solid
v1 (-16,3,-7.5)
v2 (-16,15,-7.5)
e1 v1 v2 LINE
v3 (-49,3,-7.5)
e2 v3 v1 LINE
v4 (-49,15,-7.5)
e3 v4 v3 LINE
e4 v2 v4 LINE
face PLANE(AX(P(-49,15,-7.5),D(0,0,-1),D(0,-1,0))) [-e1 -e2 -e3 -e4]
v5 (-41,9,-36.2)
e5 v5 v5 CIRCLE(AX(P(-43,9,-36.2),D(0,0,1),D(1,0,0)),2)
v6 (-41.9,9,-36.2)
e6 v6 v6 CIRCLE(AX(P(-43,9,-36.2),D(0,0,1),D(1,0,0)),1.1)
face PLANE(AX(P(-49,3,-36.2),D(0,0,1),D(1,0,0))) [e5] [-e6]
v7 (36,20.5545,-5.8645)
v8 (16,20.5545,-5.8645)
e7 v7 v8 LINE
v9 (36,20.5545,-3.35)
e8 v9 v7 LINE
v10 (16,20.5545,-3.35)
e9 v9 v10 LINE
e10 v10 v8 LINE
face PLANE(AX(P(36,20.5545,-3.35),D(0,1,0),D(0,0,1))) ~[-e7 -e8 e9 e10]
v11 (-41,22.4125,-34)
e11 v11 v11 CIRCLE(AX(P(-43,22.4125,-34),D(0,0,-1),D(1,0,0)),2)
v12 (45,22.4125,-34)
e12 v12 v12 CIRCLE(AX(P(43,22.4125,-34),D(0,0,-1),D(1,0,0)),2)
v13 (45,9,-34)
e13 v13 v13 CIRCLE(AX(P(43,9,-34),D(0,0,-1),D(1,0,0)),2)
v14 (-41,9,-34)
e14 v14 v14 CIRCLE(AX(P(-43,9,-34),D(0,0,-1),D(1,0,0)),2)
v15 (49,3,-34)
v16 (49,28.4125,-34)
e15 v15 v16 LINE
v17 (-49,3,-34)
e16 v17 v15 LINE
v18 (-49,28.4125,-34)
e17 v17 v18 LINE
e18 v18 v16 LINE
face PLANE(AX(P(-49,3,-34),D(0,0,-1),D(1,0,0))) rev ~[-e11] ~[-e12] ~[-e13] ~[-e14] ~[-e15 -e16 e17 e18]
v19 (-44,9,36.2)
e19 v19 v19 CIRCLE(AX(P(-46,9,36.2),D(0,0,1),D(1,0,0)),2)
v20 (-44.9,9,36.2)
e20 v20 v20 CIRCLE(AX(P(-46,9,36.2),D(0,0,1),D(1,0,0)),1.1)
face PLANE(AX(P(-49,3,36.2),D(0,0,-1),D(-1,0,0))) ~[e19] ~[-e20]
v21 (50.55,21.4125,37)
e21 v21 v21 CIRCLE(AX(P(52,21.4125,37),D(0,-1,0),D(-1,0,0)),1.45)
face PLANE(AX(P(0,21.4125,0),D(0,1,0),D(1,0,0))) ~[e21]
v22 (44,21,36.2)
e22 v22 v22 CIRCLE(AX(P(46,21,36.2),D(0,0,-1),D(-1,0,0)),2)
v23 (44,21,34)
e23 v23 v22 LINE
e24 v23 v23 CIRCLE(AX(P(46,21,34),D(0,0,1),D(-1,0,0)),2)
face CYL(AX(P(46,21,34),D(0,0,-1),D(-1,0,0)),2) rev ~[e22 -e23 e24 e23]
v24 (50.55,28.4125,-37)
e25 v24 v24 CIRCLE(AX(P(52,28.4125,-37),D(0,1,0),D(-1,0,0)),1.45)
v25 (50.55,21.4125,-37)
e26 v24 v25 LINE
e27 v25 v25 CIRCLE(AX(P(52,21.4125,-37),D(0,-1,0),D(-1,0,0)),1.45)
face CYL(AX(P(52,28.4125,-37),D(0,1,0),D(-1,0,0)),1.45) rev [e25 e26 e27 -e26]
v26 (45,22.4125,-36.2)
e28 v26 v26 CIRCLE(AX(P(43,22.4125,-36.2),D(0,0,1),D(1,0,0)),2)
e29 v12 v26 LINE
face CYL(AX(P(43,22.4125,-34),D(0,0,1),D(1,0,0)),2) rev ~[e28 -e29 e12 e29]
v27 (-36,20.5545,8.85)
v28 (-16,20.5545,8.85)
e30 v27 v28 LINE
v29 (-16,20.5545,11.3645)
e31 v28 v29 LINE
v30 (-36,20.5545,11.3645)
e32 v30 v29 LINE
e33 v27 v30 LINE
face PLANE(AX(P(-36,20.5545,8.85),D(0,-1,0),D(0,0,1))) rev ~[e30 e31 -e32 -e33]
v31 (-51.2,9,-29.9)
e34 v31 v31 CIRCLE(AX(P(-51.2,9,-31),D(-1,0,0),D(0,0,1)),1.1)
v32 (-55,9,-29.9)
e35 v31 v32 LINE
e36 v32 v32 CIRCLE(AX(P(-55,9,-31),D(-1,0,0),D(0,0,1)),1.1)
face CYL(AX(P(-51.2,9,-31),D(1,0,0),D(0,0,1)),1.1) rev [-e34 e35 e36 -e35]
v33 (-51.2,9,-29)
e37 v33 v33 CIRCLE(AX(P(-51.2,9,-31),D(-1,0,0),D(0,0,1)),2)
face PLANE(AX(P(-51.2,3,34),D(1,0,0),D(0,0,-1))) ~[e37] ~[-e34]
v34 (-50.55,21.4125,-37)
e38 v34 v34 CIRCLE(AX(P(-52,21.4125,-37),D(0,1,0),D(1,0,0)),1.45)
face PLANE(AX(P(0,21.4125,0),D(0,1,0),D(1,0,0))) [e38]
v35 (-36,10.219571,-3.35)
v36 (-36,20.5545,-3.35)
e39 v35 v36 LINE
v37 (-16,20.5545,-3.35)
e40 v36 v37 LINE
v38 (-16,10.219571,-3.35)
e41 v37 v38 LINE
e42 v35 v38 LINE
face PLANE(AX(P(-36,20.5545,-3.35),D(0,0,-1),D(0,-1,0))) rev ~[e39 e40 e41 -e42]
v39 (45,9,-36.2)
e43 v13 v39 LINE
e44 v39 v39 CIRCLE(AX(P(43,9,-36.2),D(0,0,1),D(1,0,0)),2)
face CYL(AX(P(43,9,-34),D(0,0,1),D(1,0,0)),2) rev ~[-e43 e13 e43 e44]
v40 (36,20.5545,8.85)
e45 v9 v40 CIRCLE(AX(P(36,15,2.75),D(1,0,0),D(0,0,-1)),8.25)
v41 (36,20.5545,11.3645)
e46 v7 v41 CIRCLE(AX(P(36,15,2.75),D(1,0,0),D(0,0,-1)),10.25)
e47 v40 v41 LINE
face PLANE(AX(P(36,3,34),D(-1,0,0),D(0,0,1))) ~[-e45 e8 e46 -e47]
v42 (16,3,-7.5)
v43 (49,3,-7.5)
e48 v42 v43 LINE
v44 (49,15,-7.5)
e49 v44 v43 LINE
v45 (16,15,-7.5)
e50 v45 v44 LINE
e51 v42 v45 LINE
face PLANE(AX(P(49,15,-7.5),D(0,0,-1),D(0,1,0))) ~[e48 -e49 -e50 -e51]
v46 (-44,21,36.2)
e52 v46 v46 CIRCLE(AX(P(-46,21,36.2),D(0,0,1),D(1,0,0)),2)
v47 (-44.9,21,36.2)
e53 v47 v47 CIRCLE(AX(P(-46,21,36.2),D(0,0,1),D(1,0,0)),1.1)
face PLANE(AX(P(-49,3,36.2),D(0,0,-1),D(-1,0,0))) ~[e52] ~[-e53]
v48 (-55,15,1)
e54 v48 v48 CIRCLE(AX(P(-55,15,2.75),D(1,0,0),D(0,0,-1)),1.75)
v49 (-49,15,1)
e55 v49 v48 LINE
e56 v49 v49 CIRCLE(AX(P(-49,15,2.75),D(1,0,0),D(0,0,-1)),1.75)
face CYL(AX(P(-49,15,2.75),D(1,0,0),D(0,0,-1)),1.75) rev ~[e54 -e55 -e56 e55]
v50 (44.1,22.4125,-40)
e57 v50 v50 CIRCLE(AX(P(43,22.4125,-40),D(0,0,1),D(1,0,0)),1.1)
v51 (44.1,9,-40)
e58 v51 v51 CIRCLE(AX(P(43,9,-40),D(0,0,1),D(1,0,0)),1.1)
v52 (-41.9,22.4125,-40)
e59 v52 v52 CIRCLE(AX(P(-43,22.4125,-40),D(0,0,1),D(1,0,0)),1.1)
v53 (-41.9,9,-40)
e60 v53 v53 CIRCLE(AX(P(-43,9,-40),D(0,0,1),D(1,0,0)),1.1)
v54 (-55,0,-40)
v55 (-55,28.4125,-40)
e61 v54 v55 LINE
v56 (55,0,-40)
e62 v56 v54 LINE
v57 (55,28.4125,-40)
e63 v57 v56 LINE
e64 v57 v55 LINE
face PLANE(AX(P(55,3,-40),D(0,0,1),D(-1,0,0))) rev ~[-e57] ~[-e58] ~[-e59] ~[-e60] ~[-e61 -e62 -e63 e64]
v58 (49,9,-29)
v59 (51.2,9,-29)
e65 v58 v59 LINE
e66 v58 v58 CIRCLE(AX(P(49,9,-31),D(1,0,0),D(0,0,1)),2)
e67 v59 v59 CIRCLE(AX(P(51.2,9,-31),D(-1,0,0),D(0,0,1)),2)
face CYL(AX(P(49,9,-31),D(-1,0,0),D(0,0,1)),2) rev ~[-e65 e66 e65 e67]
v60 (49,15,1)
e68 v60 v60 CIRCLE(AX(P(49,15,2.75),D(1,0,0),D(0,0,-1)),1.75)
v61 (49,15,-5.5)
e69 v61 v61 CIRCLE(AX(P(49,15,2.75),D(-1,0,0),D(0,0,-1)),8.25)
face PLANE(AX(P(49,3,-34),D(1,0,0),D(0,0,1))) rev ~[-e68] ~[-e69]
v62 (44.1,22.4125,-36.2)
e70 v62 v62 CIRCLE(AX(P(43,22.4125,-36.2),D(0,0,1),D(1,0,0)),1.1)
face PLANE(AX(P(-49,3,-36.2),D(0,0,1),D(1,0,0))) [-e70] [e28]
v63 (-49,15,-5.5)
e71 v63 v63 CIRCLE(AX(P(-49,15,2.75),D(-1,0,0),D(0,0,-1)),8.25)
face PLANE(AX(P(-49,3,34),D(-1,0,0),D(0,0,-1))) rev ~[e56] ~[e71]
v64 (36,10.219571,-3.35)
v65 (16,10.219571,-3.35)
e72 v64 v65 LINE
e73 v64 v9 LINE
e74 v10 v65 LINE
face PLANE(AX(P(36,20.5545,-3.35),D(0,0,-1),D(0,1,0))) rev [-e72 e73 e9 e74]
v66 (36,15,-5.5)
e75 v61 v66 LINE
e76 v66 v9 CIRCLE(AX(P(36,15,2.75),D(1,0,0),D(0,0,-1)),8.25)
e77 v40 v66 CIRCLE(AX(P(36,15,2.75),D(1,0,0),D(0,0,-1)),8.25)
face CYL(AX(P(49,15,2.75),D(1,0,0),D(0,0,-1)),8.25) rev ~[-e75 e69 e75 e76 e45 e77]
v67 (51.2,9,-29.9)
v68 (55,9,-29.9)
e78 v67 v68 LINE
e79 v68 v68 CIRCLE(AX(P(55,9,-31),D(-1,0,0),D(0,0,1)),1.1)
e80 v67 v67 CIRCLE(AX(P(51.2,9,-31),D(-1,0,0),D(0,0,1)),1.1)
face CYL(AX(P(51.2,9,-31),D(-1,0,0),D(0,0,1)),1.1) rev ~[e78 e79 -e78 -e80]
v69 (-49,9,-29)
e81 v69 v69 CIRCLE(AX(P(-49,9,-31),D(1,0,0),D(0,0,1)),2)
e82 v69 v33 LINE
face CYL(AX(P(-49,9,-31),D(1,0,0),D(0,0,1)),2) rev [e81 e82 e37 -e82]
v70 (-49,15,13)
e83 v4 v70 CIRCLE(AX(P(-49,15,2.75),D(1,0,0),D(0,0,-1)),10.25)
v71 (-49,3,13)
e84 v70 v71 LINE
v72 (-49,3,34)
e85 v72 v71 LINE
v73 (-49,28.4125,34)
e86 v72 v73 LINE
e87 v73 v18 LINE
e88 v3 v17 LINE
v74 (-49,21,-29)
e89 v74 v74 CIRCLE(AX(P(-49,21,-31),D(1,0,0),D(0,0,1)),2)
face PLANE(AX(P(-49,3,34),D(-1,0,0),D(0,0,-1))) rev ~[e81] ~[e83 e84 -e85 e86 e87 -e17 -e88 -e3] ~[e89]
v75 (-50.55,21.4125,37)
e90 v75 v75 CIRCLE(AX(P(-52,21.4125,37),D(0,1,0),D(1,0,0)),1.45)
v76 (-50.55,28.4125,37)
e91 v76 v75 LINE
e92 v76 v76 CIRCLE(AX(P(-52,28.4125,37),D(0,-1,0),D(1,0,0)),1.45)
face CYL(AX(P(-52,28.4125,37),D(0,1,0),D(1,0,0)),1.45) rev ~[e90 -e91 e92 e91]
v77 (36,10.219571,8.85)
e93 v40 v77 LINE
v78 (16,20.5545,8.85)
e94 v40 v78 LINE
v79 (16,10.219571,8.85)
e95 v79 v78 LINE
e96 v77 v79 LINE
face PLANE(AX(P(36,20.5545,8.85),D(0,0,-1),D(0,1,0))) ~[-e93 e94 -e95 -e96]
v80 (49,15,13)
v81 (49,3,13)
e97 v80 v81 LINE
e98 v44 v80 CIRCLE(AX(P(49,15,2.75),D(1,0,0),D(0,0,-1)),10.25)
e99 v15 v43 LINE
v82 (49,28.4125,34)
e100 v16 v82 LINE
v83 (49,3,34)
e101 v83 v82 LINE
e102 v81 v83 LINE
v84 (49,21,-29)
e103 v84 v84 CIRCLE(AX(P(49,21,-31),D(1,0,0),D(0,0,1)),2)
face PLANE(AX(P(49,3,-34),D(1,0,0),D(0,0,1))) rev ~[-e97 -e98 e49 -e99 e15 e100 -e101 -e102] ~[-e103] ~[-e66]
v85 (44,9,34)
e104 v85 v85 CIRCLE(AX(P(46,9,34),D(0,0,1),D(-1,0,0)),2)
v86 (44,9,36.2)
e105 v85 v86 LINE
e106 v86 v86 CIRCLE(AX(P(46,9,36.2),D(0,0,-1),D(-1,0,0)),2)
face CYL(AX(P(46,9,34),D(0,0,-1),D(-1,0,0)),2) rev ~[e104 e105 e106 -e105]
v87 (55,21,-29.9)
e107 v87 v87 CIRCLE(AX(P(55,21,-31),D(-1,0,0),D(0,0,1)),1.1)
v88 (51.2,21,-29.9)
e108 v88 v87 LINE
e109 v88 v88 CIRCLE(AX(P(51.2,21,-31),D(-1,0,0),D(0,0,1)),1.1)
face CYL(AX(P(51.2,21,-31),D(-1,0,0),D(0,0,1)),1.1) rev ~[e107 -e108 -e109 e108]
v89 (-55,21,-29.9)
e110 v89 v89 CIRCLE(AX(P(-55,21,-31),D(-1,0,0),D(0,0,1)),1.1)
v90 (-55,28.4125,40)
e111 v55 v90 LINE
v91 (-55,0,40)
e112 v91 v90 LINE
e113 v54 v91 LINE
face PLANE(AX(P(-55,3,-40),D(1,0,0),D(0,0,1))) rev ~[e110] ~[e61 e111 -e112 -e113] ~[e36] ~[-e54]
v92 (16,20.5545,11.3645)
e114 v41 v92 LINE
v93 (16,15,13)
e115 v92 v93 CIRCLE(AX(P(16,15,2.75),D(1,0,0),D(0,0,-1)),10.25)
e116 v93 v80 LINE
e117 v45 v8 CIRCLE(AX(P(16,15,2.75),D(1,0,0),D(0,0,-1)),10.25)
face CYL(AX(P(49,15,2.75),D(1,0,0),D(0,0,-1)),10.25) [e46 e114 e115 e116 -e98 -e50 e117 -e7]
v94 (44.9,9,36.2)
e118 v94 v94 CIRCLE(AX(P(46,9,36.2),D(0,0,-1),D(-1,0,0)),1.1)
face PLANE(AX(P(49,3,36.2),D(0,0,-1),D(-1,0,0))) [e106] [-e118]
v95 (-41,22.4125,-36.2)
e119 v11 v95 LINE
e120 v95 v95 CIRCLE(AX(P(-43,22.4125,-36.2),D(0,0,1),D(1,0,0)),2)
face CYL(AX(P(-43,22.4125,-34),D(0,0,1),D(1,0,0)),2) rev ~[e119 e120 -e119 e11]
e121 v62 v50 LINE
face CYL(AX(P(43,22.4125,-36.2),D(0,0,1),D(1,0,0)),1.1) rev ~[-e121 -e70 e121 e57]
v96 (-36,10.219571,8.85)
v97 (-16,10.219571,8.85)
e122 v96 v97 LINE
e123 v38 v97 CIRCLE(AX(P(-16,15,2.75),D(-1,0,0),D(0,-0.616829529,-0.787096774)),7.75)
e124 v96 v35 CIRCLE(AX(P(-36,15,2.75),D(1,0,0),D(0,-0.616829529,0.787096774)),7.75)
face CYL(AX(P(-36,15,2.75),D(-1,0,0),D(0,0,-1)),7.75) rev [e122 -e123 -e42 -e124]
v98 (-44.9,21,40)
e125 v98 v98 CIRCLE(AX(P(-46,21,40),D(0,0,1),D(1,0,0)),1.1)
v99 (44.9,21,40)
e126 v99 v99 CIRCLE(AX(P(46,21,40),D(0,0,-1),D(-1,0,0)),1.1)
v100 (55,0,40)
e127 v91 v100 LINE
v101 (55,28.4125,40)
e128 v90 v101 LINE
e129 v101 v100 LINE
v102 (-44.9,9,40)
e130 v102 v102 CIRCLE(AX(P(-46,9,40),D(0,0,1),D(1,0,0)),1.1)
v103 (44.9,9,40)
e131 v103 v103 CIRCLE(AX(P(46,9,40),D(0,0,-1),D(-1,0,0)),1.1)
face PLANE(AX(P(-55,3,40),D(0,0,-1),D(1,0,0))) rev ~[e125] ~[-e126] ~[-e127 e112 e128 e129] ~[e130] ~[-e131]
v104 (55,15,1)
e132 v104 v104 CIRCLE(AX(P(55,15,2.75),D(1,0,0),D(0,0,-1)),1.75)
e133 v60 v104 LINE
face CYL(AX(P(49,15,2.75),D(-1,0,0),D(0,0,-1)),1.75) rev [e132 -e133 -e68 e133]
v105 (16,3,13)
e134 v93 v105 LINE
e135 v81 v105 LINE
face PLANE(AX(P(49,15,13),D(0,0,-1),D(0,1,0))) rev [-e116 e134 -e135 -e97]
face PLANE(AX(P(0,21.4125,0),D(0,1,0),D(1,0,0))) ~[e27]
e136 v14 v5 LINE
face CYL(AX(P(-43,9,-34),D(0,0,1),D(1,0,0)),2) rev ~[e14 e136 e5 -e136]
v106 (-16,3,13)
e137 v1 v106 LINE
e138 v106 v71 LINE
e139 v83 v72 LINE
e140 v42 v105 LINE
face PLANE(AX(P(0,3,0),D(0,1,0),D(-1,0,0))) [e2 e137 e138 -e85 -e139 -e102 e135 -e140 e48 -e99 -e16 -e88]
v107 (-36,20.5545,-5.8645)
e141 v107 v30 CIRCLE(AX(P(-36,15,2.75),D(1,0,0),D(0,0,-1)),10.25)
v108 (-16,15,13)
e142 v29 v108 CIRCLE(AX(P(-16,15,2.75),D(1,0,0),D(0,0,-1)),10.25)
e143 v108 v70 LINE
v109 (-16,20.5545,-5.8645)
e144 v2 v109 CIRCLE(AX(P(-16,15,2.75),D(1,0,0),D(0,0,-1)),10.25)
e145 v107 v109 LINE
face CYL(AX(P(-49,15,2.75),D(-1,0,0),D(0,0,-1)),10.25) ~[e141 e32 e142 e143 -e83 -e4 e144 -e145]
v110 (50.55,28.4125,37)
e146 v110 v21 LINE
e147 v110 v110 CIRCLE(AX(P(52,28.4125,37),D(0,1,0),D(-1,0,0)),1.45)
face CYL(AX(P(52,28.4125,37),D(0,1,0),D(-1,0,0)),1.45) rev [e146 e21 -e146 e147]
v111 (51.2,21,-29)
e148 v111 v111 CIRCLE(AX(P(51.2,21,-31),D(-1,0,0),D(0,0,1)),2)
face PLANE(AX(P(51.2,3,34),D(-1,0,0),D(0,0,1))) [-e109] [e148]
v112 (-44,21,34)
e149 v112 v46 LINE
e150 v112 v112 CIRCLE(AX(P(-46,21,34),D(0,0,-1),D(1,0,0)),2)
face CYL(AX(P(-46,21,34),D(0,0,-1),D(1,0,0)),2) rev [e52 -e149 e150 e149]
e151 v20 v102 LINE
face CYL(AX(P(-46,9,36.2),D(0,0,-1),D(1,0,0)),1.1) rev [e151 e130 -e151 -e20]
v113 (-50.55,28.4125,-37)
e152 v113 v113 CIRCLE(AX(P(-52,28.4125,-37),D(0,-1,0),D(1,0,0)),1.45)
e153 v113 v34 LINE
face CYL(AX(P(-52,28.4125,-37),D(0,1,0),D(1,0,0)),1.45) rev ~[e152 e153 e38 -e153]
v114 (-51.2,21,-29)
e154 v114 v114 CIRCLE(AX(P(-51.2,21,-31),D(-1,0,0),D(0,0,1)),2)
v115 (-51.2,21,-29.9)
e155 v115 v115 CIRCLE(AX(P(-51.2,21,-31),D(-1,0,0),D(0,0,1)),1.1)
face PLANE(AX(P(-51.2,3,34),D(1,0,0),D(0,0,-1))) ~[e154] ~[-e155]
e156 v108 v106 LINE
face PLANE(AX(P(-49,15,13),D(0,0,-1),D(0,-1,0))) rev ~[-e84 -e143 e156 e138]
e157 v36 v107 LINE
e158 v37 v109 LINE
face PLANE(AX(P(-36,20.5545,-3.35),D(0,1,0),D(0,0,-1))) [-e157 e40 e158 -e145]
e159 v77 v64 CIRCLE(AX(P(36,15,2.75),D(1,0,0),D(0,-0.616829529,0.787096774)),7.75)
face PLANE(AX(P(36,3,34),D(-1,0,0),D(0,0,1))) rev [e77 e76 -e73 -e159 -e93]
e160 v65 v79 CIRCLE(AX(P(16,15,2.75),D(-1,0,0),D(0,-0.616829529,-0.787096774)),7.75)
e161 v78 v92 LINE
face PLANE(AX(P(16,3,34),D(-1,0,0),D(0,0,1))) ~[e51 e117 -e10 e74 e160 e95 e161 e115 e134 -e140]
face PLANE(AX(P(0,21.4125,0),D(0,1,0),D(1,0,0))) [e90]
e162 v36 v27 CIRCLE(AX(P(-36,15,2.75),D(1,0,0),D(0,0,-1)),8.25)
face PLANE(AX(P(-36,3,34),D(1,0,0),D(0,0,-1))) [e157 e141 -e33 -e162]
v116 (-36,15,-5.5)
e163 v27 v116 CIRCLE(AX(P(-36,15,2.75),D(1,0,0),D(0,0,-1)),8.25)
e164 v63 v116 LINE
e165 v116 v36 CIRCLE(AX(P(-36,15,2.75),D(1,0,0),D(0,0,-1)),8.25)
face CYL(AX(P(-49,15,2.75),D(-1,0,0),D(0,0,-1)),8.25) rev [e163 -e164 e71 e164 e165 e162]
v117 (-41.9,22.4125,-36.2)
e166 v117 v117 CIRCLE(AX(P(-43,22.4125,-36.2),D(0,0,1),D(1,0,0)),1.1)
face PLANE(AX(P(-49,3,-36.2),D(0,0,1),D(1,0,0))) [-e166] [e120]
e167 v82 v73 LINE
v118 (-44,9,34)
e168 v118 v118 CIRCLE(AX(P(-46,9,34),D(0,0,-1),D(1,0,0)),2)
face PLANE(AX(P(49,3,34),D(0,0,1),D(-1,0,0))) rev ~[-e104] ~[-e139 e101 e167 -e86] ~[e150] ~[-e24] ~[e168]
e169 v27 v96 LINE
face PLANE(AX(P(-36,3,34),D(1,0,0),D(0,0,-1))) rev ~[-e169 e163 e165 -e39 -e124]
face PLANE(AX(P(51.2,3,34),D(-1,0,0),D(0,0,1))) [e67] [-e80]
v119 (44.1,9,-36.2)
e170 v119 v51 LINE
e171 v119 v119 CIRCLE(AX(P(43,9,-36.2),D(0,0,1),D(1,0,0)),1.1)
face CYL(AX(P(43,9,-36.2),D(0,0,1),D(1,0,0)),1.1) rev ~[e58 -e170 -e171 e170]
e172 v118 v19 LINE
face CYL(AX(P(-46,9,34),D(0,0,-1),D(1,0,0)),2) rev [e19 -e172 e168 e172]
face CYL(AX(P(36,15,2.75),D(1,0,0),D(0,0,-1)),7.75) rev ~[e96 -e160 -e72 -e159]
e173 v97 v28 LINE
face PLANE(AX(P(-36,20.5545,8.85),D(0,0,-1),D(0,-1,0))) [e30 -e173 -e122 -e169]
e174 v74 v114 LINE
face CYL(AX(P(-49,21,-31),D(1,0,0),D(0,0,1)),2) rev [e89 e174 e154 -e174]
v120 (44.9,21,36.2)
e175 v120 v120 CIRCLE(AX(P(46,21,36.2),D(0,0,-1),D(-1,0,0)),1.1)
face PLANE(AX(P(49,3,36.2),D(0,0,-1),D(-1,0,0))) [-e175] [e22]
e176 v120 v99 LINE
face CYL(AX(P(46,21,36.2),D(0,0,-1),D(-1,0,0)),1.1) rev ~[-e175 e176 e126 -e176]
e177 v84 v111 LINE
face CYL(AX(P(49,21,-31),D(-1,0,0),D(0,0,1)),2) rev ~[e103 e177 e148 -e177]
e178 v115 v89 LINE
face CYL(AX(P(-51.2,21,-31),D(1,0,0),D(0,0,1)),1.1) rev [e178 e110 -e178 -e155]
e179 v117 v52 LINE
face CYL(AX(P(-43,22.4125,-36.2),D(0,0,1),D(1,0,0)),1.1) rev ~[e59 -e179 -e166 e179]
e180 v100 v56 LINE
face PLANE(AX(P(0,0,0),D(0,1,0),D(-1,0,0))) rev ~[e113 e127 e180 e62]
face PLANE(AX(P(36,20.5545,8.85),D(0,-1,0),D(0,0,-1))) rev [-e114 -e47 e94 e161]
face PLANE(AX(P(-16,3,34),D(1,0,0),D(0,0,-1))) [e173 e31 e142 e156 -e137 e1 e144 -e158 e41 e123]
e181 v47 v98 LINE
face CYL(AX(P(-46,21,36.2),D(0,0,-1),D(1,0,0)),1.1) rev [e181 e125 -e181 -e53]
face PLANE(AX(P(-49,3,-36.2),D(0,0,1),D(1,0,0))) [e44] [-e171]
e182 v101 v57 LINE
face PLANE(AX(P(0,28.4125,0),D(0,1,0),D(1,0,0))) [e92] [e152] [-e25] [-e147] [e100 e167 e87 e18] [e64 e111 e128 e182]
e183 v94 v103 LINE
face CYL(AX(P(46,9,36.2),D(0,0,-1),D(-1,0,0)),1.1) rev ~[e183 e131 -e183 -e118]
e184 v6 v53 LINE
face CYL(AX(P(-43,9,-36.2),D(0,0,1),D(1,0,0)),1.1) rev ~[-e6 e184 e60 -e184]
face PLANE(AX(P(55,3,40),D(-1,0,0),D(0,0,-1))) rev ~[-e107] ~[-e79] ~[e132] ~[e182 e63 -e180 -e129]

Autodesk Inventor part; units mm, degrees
ref_plane "YZ Plane" through (0, 0, 0) normal (1, 0, 0) x (0, 1, 0)
ref_plane "XZ Plane" through (0, 0, 0) normal (0, 1, 0) x (-1, 0, 0)
ref_plane "XY Plane" through (0, 0, 0) normal (0, 0, 1) x (1, 0, 0)
sketch "Sketch1" plane through (0, 0, 0) normal (0, 1, 0) x (-1, 0, 0)
  line L0 (55, 40) -> (-55, 40)
  line L1 (-55, 40) -> (-55, -40)
  line L2 (-55, -40) -> (55, -40)
  line L3 (55, -40) -> (55, 40)
  line L4 (55, 40) -> (-55, -40) construction
  line L5 (-55, 40) -> (55, -40) construction
  line L6 (0, -56) -> (0, 56) projected
  point P0 (0, 0)
  dimension "d0" = 110
  dimension "d1" = 80
extrude "Extrusion1" add sketch "Sketch1" along normal blind 3
sketch "Sketch2" plane through (0, 3, 0) normal (0, 1, 0) x (1, 0, 0)
  line L0 (-55, 40) -> (-55, -40) projected
  line L1 (-55, -40) -> (55, -40) projected
  line L2 (55, -40) -> (55, 40) projected
  line L3 (49, -34) -> (-49, -34)
  line L4 (-49, -34) -> (-49, 34)
  line L5 (-49, 34) -> (49, 34)
  line L6 (49, 34) -> (49, -34)
  line L7 (49, -34) -> (-49, 34) construction
  line L8 (-49, -34) -> (49, 34) construction
  line L9 (55, 40) -> (-55, 40) projected
  point P0 (0, 0)
  dimension "d36" = 98
  dimension "d37" = 68
extrude "Extrusion2" add sketch "Sketch2" along normal blind 25.4125
sketch "Sketch7" plane through (-49, 3, 34) normal (1, 0, 0) x (0, 0, -1)
  circle A0 centre (31.25, 12) radius 8.25
  line L0 (74, -3) -> (-6, -3) projected
  circle A1 centre (31.25, 12) radius 10.25
  line L1 (21, 12) -> (41.5, 12)
  line L2 (41.5, 12) -> (41.5, 0)
  line L3 (-6, -3) -> (-6, 25.4125) projected
  line L4 (0, 0) -> (41.5, 0)
  line L5 (0, 0) -> (0, 25.4125) projected
  line L6 (21, 12) -> (21, 0)
  line L7 (68, 0) -> (0, 0) projected
  point P0 (34, -3)
  point P1 (54, -3)
  point P2 (0, 25.25)
  point P3 (22.1693, 16.7543)
  point P4 (23, 12)
  point P5 (39.5, 12)
  dimension "MotorDiameter" = 16.5
  dimension "d18" = 15
  dimension "d20" = 2
  dimension "d144" = 37.25
extrude "Extrusion5" add sketch "Sketch7" along normal blind 13 contours L1 A1 A0 | A0 L1 A1 | L2 L4 L6 A1
sketch "Sketch8" plane through (-36, 3, 34) normal (1, 0, 0) x (0, 0, -1)
  arc A0 (41.5, 12) -> (21, 12) centre (31.25, 12) ccw projected
  arc A1 (41.5, 12) -> (21, 12) centre (31.25, 12) ccw projected
  arc A2 (23, 12) -> (23, 12) centre (31.25, 12) ccw projected
  line L0 (41.5, 0) -> (21, 0) projected
  line L1 (21, 12) -> (21, 0) projected
  line L2 (41.5, 0) -> (21, 0) projected
  line L3 (41.5, 0) -> (41.5, 12) projected
  circle A3 centre (31.25, 12) radius 7.75
  line L4 (25.15, 17.5545) -> (25.15, 0)
  line L5 (31.25, 19.75) -> (31.25, 4.25)
  line L6 (37.35, 17.5545) -> (37.35, 0)
  circle A4 centre (31.25, 12) radius 8.25 projected
  arc A5 (41.5, 12) -> (21, 12) centre (31.25, 12) ccw projected
  line L7 (21, 12) -> (21, 0) projected
  line L8 (41.5, 0) -> (21, 0) projected
  line L9 (41.5, 0) -> (41.5, 12) projected
  line L10 (37.35, 17.5545) -> (39.8645, 17.5545)
  line L11 (25.15, 17.5545) -> (22.6355, 17.5545)
  point P0 (34, -3)
  point P1 (19.75, 15)
  point P2 (37.35, 7.2196)
  point P3 (25.15, 7.2196)
  point P4 (22.6355, 17.5545)
  dimension "d145" = 15.5
  dimension "d146" = 15.5
  dimension "d147" = 12.2
extrude "Extrusion6" add sketch "Sketch8" along normal blind 20 contours L3 L0 L6 A2 L10 A0 | L11 A2 L4 L0 L1 A0 | A2 L6 A3 | L0 L4 A2 L6 | L4 A3 A2 | A3 L6 | A2 L4 A3 L6 | L4 A3 picked at (32.1563, 4.1687)
sketch "Sketch9" plane through (-49, 17, 8.75) normal (1, 0, 0) x (0, 0, -1)
  line L0 (48.75, -17) -> (-31.25, -17) projected
  line L1 (-31.25, -17) -> (-31.25, 11.4125) projected
  arc A0 (-0.1, 3.5545) -> (12.1, 3.5545) centre (6, -2) ccw projected
  arc A1 (12.1, 3.5545) -> (-0.1, 3.5545) centre (6, -2) ccw projected
  circle A2 centre (6, -2) radius 8.25 projected
  circle A3 centre (6, -2) radius 1.75
  point P0 (8.75, -17)
  point P1 (44, -20)
  dimension "d148" = 3.5
extrude "Extrusion7" cut sketch "Sketch9" against normal up to surface (6 mm away) contours A3
mirror "Mirror2" about plane through (0, 0, 0) normal (1, 0, 0) of "Extrusion7", "Extrusion6", "Extrusion5"
sketch "Sketch28" plane through (-49, 3, -34) normal (0, 0, 1) x (1, 0, 0)
  line L0 (98, 0) -> (0, 0) projected
  line L1 (98, 0) -> (98, 25.4125) projected
  line L2 (0, 0) -> (0, 25.4125) projected
  line L3 (92, 19.4125) -> (92, 6)
  line L4 (92, 6) -> (6, 6)
  line L5 (6, 6) -> (6, 19.4125)
  line L6 (6, 19.4125) -> (92, 19.4125)
  circle A0 centre (6, 19.4125) radius 2
  circle A1 centre (6, 6) radius 2
  circle A2 centre (92, 19.4125) radius 2
  circle A3 centre (92, 6) radius 2
  line L7 (0, 25.4125) -> (98, 25.4125) projected
  point P0 (49, -3)
  dimension "d120" = 4
  dimension "d121" = 4
  dimension "d122" = 4
  dimension "d123" = 4
  dimension "d132" = 6
  dimension "d133" = 6
  dimension "d134" = 6
extrude "Extrusion24" cut sketch "Sketch28" against normal blind 2.2 contours L6 A2 L3 | L3 A2 L6 | A3 L4 L3 | L3 L4 A3 | A0 L5 L6 | L6 L5 A0 | A1 L5 L4 | L4 L5 A1
sketch "Sketch29" plane through (-43, 22.4125, -36.2) normal (0, 0, 1) x (1, 0, 0)
  circle A0 centre (0, 0) radius 2 projected
  circle A1 centre (0, -13.4125) radius 2 projected
  circle A2 centre (86, 0) radius 2 projected
  circle A3 centre (86, -13.4125) radius 2 projected
  circle A4 centre (0, 0) radius 1.1
  circle A5 centre (0, -13.4125) radius 1.1
  circle A6 centre (86, 0) radius 1.1
  circle A7 centre (86, -13.4125) radius 2 projected
  circle A8 centre (86, -13.4125) radius 1.1
  point P0 (43, -22.4125)
  dimension "d126" = 2.2
  dimension "d127" = 2.2
  dimension "d128" = 2.2
  dimension "d129" = 2.2
extrude "Extrusion25" cut sketch "Sketch29" against normal up to surface (3.8 mm away) contours A4 | A5 | A6 | A8
sketch "Sketch30" plane through (0, 28.4125, 0) normal (0, 1, 0) x (1, 0, 0)
  line L0 (-55, 40) -> (-55, -40) projected
  line L1 (-55, 37) -> (54.8299, 37)
  line L2 (55, 40) -> (-55, 40) projected
  line L3 (-52, 40) -> (-52, -40)
  line L4 (-55, -40) -> (55, -40) projected
  circle A0 centre (-52, 37) radius 1.45
  line L5 (-55, -37) -> (55, -37)
  circle A1 centre (-52, -37) radius 1.45
  point P0 (0, 0)
  dimension "d135" = 3
  dimension "d136" = 3
  dimension "d137" = 2.9
  dimension "d138" = 3
  dimension "d139" = 2.9
extrude "Extrusion26" cut sketch "Sketch30" against normal blind 7 contours A0 L3 L1 | L1 L3 A0 | A0 L1 L3 | A1 L3 L5 | L5 L3 A1 | L1 A0 L3 | L5 A1 L3 | L3 A1 L5
mirror "Mirror11" about plane through (0, 0, 0) normal (1, 0, 0) of "Extrusion26"
sketch "Sketch31" plane through (49, 3, 34) normal (-1, 0, 0) x (0, 0, 1)
  line L0 (-21, 12) -> (-21, 0) projected
  line L1 (0, 0) -> (-21, 0) projected
  line L2 (0, 0) -> (0, 25.4125) projected
  line L3 (-68, 25.4125) -> (0, 25.4125) projected
  line L4 (-68, 0) -> (-68, 25.4125) projected
  line L5 (-41.5, 0) -> (-68, 0) projected
  line L6 (-41.5, 0) -> (-41.5, 12) projected
  arc A0 (-21, 12) -> (-41.5, 12) centre (-31.25, 12) ccw projected
  line L7 (-68, 25.4125) -> (0, 25.4125) projected
  line L8 (-65, 25.4125) -> (-65, 0)
  line L9 (-41.5, 0) -> (-68, 0) projected
  line L10 (-68, 0) -> (-68, 25.4125) projected
  circle A1 centre (-65, 18) radius 2
  circle A2 centre (-65, 6) radius 2
  point P0 (-34, -3)
  dimension "d150" = 3
  dimension "d152" = 4
  dimension "d153" = 7.4125
  dimension "d154" = 4
  dimension "d155" = 6
extrude "Extrusion27" cut sketch "Sketch31" against normal blind 2.2 contours A2 L8 | L8 A2 | A1 L8 | L8 A1
sketch "Sketch32" plane through (51.2, 21, -31) normal (-1, 0, 0) x (0, 0, 1)
  circle A0 centre (0, 0) radius 2 projected
  circle A1 centre (0, 0) radius 2 projected
  circle A2 centre (0, -12) radius 2 projected
  circle A3 centre (0, -12) radius 2 projected
  circle A4 centre (0, 0) radius 1.1
  circle A5 centre (0, -12) radius 1.1
  point P0 (31, -21)
  dimension "d158" = 2.2
  dimension "d159" = 2.2
extrude "Extrusion28" cut sketch "Sketch32" against normal up to surface (3.8 mm away) contours A4 | A5
sketch "Sketch33" plane through (49, 3, 34) normal (0, 0, -1) x (-1, 0, 0)
  line L0 (98, 0) -> (0, 0) projected
  line L1 (98, 0) -> (98, 25.4125) projected
  line L2 (0, 25.4125) -> (98, 25.4125) projected
  line L3 (0, 0) -> (0, 25.4125) projected
  line L4 (0, 25.4125) -> (98, 25.4125) projected
  line L5 (3, 25.4125) -> (3, 0)
  line L6 (98, 0) -> (0, 0) projected
  circle A0 centre (3, 18) radius 2
  circle A1 centre (3, 6) radius 2
  point P0 (49, -3)
  dimension "d162" = 3
  dimension "d163" = 4
  dimension "d164" = 4
  dimension "d165" = 7.4125
  dimension "d166" = 6
extrude "Extrusion29" cut sketch "Sketch33" against normal blind 2.2 contours A1 L5 | L5 A1 | A0 L5 | L5 A0
sketch "Sketch34" plane through (46, 21, 36.2) normal (0, 0, -1) x (-1, 0, 0)
  circle A0 centre (0, 0) radius 2 projected
  circle A1 centre (0, -12) radius 2 projected
  circle A2 centre (0, 0) radius 1.1
  circle A3 centre (0, -12) radius 1.1
  point P0 (46, -21)
  dimension "d169" = 2.2
  dimension "d170" = 2.2
extrude "Extrusion30" cut sketch "Sketch34" against normal up to surface (3.8 mm away) contours A2 | A3
mirror "Mirror13" about plane through (0, 0, 0) normal (1, 0, 0) of "Extrusion27", "Extrusion28", "Extrusion29", "Extrusion30"
equation "\"d0\" = BoxWidth"
equation "\"d1\" = BoxLength"
equation "\"d2\" = BaseThickness"
equation "\"d37\" = BoxLength - 2 * SideThickness"
equation "\"d18\" = DriveMotorHeight"
equation "\"d20\" = DriveMotorMountThickness"
equation "\"SideThickness\" = 6"
equation "\"BaseThickness\" = 3"
equation "\"TopThickness\" = 1.5875"
equation "\"BoxWidth\" = 110"
equation "\"BoxLength\" = 80"
equation "\"Height\" = 30"
equation "\"DriveMotorHeight\" = 0.5 * Height"
equation "\"DriveMotorMountThickness\" = 2"
equation "\"ScrewDia\" = 2.9"
equation "\"ScrewDepth\" = 7"
equation "\"ForkScrewHeadDia\" = 4"
equation "\"ForkScrewDia\" = 2.2"
equation "\"ForkScrewHeadDepth\" = 2.2"
equation "\"DriveMotorOffset\" = 37.25"
equation "\"DriveMotorDia\" = 16.5"
equation "\"SideArmorWidth\" = 15"
equation "\"ForkLength\" = 60"
equation "\"WheelWidth\" = 16.51"
equation "\"DriveMotorHoleDia\" = 3.5"
equation "\"ForkPlugDia\" = 3.5"
equation "\"ForkPlugTolerance\" = 0.5"
equation "\"ForkPlugLength\" = 3"
properties part number "BodyWedgeBaseV3.1" material "Thermoplastic Resin"
